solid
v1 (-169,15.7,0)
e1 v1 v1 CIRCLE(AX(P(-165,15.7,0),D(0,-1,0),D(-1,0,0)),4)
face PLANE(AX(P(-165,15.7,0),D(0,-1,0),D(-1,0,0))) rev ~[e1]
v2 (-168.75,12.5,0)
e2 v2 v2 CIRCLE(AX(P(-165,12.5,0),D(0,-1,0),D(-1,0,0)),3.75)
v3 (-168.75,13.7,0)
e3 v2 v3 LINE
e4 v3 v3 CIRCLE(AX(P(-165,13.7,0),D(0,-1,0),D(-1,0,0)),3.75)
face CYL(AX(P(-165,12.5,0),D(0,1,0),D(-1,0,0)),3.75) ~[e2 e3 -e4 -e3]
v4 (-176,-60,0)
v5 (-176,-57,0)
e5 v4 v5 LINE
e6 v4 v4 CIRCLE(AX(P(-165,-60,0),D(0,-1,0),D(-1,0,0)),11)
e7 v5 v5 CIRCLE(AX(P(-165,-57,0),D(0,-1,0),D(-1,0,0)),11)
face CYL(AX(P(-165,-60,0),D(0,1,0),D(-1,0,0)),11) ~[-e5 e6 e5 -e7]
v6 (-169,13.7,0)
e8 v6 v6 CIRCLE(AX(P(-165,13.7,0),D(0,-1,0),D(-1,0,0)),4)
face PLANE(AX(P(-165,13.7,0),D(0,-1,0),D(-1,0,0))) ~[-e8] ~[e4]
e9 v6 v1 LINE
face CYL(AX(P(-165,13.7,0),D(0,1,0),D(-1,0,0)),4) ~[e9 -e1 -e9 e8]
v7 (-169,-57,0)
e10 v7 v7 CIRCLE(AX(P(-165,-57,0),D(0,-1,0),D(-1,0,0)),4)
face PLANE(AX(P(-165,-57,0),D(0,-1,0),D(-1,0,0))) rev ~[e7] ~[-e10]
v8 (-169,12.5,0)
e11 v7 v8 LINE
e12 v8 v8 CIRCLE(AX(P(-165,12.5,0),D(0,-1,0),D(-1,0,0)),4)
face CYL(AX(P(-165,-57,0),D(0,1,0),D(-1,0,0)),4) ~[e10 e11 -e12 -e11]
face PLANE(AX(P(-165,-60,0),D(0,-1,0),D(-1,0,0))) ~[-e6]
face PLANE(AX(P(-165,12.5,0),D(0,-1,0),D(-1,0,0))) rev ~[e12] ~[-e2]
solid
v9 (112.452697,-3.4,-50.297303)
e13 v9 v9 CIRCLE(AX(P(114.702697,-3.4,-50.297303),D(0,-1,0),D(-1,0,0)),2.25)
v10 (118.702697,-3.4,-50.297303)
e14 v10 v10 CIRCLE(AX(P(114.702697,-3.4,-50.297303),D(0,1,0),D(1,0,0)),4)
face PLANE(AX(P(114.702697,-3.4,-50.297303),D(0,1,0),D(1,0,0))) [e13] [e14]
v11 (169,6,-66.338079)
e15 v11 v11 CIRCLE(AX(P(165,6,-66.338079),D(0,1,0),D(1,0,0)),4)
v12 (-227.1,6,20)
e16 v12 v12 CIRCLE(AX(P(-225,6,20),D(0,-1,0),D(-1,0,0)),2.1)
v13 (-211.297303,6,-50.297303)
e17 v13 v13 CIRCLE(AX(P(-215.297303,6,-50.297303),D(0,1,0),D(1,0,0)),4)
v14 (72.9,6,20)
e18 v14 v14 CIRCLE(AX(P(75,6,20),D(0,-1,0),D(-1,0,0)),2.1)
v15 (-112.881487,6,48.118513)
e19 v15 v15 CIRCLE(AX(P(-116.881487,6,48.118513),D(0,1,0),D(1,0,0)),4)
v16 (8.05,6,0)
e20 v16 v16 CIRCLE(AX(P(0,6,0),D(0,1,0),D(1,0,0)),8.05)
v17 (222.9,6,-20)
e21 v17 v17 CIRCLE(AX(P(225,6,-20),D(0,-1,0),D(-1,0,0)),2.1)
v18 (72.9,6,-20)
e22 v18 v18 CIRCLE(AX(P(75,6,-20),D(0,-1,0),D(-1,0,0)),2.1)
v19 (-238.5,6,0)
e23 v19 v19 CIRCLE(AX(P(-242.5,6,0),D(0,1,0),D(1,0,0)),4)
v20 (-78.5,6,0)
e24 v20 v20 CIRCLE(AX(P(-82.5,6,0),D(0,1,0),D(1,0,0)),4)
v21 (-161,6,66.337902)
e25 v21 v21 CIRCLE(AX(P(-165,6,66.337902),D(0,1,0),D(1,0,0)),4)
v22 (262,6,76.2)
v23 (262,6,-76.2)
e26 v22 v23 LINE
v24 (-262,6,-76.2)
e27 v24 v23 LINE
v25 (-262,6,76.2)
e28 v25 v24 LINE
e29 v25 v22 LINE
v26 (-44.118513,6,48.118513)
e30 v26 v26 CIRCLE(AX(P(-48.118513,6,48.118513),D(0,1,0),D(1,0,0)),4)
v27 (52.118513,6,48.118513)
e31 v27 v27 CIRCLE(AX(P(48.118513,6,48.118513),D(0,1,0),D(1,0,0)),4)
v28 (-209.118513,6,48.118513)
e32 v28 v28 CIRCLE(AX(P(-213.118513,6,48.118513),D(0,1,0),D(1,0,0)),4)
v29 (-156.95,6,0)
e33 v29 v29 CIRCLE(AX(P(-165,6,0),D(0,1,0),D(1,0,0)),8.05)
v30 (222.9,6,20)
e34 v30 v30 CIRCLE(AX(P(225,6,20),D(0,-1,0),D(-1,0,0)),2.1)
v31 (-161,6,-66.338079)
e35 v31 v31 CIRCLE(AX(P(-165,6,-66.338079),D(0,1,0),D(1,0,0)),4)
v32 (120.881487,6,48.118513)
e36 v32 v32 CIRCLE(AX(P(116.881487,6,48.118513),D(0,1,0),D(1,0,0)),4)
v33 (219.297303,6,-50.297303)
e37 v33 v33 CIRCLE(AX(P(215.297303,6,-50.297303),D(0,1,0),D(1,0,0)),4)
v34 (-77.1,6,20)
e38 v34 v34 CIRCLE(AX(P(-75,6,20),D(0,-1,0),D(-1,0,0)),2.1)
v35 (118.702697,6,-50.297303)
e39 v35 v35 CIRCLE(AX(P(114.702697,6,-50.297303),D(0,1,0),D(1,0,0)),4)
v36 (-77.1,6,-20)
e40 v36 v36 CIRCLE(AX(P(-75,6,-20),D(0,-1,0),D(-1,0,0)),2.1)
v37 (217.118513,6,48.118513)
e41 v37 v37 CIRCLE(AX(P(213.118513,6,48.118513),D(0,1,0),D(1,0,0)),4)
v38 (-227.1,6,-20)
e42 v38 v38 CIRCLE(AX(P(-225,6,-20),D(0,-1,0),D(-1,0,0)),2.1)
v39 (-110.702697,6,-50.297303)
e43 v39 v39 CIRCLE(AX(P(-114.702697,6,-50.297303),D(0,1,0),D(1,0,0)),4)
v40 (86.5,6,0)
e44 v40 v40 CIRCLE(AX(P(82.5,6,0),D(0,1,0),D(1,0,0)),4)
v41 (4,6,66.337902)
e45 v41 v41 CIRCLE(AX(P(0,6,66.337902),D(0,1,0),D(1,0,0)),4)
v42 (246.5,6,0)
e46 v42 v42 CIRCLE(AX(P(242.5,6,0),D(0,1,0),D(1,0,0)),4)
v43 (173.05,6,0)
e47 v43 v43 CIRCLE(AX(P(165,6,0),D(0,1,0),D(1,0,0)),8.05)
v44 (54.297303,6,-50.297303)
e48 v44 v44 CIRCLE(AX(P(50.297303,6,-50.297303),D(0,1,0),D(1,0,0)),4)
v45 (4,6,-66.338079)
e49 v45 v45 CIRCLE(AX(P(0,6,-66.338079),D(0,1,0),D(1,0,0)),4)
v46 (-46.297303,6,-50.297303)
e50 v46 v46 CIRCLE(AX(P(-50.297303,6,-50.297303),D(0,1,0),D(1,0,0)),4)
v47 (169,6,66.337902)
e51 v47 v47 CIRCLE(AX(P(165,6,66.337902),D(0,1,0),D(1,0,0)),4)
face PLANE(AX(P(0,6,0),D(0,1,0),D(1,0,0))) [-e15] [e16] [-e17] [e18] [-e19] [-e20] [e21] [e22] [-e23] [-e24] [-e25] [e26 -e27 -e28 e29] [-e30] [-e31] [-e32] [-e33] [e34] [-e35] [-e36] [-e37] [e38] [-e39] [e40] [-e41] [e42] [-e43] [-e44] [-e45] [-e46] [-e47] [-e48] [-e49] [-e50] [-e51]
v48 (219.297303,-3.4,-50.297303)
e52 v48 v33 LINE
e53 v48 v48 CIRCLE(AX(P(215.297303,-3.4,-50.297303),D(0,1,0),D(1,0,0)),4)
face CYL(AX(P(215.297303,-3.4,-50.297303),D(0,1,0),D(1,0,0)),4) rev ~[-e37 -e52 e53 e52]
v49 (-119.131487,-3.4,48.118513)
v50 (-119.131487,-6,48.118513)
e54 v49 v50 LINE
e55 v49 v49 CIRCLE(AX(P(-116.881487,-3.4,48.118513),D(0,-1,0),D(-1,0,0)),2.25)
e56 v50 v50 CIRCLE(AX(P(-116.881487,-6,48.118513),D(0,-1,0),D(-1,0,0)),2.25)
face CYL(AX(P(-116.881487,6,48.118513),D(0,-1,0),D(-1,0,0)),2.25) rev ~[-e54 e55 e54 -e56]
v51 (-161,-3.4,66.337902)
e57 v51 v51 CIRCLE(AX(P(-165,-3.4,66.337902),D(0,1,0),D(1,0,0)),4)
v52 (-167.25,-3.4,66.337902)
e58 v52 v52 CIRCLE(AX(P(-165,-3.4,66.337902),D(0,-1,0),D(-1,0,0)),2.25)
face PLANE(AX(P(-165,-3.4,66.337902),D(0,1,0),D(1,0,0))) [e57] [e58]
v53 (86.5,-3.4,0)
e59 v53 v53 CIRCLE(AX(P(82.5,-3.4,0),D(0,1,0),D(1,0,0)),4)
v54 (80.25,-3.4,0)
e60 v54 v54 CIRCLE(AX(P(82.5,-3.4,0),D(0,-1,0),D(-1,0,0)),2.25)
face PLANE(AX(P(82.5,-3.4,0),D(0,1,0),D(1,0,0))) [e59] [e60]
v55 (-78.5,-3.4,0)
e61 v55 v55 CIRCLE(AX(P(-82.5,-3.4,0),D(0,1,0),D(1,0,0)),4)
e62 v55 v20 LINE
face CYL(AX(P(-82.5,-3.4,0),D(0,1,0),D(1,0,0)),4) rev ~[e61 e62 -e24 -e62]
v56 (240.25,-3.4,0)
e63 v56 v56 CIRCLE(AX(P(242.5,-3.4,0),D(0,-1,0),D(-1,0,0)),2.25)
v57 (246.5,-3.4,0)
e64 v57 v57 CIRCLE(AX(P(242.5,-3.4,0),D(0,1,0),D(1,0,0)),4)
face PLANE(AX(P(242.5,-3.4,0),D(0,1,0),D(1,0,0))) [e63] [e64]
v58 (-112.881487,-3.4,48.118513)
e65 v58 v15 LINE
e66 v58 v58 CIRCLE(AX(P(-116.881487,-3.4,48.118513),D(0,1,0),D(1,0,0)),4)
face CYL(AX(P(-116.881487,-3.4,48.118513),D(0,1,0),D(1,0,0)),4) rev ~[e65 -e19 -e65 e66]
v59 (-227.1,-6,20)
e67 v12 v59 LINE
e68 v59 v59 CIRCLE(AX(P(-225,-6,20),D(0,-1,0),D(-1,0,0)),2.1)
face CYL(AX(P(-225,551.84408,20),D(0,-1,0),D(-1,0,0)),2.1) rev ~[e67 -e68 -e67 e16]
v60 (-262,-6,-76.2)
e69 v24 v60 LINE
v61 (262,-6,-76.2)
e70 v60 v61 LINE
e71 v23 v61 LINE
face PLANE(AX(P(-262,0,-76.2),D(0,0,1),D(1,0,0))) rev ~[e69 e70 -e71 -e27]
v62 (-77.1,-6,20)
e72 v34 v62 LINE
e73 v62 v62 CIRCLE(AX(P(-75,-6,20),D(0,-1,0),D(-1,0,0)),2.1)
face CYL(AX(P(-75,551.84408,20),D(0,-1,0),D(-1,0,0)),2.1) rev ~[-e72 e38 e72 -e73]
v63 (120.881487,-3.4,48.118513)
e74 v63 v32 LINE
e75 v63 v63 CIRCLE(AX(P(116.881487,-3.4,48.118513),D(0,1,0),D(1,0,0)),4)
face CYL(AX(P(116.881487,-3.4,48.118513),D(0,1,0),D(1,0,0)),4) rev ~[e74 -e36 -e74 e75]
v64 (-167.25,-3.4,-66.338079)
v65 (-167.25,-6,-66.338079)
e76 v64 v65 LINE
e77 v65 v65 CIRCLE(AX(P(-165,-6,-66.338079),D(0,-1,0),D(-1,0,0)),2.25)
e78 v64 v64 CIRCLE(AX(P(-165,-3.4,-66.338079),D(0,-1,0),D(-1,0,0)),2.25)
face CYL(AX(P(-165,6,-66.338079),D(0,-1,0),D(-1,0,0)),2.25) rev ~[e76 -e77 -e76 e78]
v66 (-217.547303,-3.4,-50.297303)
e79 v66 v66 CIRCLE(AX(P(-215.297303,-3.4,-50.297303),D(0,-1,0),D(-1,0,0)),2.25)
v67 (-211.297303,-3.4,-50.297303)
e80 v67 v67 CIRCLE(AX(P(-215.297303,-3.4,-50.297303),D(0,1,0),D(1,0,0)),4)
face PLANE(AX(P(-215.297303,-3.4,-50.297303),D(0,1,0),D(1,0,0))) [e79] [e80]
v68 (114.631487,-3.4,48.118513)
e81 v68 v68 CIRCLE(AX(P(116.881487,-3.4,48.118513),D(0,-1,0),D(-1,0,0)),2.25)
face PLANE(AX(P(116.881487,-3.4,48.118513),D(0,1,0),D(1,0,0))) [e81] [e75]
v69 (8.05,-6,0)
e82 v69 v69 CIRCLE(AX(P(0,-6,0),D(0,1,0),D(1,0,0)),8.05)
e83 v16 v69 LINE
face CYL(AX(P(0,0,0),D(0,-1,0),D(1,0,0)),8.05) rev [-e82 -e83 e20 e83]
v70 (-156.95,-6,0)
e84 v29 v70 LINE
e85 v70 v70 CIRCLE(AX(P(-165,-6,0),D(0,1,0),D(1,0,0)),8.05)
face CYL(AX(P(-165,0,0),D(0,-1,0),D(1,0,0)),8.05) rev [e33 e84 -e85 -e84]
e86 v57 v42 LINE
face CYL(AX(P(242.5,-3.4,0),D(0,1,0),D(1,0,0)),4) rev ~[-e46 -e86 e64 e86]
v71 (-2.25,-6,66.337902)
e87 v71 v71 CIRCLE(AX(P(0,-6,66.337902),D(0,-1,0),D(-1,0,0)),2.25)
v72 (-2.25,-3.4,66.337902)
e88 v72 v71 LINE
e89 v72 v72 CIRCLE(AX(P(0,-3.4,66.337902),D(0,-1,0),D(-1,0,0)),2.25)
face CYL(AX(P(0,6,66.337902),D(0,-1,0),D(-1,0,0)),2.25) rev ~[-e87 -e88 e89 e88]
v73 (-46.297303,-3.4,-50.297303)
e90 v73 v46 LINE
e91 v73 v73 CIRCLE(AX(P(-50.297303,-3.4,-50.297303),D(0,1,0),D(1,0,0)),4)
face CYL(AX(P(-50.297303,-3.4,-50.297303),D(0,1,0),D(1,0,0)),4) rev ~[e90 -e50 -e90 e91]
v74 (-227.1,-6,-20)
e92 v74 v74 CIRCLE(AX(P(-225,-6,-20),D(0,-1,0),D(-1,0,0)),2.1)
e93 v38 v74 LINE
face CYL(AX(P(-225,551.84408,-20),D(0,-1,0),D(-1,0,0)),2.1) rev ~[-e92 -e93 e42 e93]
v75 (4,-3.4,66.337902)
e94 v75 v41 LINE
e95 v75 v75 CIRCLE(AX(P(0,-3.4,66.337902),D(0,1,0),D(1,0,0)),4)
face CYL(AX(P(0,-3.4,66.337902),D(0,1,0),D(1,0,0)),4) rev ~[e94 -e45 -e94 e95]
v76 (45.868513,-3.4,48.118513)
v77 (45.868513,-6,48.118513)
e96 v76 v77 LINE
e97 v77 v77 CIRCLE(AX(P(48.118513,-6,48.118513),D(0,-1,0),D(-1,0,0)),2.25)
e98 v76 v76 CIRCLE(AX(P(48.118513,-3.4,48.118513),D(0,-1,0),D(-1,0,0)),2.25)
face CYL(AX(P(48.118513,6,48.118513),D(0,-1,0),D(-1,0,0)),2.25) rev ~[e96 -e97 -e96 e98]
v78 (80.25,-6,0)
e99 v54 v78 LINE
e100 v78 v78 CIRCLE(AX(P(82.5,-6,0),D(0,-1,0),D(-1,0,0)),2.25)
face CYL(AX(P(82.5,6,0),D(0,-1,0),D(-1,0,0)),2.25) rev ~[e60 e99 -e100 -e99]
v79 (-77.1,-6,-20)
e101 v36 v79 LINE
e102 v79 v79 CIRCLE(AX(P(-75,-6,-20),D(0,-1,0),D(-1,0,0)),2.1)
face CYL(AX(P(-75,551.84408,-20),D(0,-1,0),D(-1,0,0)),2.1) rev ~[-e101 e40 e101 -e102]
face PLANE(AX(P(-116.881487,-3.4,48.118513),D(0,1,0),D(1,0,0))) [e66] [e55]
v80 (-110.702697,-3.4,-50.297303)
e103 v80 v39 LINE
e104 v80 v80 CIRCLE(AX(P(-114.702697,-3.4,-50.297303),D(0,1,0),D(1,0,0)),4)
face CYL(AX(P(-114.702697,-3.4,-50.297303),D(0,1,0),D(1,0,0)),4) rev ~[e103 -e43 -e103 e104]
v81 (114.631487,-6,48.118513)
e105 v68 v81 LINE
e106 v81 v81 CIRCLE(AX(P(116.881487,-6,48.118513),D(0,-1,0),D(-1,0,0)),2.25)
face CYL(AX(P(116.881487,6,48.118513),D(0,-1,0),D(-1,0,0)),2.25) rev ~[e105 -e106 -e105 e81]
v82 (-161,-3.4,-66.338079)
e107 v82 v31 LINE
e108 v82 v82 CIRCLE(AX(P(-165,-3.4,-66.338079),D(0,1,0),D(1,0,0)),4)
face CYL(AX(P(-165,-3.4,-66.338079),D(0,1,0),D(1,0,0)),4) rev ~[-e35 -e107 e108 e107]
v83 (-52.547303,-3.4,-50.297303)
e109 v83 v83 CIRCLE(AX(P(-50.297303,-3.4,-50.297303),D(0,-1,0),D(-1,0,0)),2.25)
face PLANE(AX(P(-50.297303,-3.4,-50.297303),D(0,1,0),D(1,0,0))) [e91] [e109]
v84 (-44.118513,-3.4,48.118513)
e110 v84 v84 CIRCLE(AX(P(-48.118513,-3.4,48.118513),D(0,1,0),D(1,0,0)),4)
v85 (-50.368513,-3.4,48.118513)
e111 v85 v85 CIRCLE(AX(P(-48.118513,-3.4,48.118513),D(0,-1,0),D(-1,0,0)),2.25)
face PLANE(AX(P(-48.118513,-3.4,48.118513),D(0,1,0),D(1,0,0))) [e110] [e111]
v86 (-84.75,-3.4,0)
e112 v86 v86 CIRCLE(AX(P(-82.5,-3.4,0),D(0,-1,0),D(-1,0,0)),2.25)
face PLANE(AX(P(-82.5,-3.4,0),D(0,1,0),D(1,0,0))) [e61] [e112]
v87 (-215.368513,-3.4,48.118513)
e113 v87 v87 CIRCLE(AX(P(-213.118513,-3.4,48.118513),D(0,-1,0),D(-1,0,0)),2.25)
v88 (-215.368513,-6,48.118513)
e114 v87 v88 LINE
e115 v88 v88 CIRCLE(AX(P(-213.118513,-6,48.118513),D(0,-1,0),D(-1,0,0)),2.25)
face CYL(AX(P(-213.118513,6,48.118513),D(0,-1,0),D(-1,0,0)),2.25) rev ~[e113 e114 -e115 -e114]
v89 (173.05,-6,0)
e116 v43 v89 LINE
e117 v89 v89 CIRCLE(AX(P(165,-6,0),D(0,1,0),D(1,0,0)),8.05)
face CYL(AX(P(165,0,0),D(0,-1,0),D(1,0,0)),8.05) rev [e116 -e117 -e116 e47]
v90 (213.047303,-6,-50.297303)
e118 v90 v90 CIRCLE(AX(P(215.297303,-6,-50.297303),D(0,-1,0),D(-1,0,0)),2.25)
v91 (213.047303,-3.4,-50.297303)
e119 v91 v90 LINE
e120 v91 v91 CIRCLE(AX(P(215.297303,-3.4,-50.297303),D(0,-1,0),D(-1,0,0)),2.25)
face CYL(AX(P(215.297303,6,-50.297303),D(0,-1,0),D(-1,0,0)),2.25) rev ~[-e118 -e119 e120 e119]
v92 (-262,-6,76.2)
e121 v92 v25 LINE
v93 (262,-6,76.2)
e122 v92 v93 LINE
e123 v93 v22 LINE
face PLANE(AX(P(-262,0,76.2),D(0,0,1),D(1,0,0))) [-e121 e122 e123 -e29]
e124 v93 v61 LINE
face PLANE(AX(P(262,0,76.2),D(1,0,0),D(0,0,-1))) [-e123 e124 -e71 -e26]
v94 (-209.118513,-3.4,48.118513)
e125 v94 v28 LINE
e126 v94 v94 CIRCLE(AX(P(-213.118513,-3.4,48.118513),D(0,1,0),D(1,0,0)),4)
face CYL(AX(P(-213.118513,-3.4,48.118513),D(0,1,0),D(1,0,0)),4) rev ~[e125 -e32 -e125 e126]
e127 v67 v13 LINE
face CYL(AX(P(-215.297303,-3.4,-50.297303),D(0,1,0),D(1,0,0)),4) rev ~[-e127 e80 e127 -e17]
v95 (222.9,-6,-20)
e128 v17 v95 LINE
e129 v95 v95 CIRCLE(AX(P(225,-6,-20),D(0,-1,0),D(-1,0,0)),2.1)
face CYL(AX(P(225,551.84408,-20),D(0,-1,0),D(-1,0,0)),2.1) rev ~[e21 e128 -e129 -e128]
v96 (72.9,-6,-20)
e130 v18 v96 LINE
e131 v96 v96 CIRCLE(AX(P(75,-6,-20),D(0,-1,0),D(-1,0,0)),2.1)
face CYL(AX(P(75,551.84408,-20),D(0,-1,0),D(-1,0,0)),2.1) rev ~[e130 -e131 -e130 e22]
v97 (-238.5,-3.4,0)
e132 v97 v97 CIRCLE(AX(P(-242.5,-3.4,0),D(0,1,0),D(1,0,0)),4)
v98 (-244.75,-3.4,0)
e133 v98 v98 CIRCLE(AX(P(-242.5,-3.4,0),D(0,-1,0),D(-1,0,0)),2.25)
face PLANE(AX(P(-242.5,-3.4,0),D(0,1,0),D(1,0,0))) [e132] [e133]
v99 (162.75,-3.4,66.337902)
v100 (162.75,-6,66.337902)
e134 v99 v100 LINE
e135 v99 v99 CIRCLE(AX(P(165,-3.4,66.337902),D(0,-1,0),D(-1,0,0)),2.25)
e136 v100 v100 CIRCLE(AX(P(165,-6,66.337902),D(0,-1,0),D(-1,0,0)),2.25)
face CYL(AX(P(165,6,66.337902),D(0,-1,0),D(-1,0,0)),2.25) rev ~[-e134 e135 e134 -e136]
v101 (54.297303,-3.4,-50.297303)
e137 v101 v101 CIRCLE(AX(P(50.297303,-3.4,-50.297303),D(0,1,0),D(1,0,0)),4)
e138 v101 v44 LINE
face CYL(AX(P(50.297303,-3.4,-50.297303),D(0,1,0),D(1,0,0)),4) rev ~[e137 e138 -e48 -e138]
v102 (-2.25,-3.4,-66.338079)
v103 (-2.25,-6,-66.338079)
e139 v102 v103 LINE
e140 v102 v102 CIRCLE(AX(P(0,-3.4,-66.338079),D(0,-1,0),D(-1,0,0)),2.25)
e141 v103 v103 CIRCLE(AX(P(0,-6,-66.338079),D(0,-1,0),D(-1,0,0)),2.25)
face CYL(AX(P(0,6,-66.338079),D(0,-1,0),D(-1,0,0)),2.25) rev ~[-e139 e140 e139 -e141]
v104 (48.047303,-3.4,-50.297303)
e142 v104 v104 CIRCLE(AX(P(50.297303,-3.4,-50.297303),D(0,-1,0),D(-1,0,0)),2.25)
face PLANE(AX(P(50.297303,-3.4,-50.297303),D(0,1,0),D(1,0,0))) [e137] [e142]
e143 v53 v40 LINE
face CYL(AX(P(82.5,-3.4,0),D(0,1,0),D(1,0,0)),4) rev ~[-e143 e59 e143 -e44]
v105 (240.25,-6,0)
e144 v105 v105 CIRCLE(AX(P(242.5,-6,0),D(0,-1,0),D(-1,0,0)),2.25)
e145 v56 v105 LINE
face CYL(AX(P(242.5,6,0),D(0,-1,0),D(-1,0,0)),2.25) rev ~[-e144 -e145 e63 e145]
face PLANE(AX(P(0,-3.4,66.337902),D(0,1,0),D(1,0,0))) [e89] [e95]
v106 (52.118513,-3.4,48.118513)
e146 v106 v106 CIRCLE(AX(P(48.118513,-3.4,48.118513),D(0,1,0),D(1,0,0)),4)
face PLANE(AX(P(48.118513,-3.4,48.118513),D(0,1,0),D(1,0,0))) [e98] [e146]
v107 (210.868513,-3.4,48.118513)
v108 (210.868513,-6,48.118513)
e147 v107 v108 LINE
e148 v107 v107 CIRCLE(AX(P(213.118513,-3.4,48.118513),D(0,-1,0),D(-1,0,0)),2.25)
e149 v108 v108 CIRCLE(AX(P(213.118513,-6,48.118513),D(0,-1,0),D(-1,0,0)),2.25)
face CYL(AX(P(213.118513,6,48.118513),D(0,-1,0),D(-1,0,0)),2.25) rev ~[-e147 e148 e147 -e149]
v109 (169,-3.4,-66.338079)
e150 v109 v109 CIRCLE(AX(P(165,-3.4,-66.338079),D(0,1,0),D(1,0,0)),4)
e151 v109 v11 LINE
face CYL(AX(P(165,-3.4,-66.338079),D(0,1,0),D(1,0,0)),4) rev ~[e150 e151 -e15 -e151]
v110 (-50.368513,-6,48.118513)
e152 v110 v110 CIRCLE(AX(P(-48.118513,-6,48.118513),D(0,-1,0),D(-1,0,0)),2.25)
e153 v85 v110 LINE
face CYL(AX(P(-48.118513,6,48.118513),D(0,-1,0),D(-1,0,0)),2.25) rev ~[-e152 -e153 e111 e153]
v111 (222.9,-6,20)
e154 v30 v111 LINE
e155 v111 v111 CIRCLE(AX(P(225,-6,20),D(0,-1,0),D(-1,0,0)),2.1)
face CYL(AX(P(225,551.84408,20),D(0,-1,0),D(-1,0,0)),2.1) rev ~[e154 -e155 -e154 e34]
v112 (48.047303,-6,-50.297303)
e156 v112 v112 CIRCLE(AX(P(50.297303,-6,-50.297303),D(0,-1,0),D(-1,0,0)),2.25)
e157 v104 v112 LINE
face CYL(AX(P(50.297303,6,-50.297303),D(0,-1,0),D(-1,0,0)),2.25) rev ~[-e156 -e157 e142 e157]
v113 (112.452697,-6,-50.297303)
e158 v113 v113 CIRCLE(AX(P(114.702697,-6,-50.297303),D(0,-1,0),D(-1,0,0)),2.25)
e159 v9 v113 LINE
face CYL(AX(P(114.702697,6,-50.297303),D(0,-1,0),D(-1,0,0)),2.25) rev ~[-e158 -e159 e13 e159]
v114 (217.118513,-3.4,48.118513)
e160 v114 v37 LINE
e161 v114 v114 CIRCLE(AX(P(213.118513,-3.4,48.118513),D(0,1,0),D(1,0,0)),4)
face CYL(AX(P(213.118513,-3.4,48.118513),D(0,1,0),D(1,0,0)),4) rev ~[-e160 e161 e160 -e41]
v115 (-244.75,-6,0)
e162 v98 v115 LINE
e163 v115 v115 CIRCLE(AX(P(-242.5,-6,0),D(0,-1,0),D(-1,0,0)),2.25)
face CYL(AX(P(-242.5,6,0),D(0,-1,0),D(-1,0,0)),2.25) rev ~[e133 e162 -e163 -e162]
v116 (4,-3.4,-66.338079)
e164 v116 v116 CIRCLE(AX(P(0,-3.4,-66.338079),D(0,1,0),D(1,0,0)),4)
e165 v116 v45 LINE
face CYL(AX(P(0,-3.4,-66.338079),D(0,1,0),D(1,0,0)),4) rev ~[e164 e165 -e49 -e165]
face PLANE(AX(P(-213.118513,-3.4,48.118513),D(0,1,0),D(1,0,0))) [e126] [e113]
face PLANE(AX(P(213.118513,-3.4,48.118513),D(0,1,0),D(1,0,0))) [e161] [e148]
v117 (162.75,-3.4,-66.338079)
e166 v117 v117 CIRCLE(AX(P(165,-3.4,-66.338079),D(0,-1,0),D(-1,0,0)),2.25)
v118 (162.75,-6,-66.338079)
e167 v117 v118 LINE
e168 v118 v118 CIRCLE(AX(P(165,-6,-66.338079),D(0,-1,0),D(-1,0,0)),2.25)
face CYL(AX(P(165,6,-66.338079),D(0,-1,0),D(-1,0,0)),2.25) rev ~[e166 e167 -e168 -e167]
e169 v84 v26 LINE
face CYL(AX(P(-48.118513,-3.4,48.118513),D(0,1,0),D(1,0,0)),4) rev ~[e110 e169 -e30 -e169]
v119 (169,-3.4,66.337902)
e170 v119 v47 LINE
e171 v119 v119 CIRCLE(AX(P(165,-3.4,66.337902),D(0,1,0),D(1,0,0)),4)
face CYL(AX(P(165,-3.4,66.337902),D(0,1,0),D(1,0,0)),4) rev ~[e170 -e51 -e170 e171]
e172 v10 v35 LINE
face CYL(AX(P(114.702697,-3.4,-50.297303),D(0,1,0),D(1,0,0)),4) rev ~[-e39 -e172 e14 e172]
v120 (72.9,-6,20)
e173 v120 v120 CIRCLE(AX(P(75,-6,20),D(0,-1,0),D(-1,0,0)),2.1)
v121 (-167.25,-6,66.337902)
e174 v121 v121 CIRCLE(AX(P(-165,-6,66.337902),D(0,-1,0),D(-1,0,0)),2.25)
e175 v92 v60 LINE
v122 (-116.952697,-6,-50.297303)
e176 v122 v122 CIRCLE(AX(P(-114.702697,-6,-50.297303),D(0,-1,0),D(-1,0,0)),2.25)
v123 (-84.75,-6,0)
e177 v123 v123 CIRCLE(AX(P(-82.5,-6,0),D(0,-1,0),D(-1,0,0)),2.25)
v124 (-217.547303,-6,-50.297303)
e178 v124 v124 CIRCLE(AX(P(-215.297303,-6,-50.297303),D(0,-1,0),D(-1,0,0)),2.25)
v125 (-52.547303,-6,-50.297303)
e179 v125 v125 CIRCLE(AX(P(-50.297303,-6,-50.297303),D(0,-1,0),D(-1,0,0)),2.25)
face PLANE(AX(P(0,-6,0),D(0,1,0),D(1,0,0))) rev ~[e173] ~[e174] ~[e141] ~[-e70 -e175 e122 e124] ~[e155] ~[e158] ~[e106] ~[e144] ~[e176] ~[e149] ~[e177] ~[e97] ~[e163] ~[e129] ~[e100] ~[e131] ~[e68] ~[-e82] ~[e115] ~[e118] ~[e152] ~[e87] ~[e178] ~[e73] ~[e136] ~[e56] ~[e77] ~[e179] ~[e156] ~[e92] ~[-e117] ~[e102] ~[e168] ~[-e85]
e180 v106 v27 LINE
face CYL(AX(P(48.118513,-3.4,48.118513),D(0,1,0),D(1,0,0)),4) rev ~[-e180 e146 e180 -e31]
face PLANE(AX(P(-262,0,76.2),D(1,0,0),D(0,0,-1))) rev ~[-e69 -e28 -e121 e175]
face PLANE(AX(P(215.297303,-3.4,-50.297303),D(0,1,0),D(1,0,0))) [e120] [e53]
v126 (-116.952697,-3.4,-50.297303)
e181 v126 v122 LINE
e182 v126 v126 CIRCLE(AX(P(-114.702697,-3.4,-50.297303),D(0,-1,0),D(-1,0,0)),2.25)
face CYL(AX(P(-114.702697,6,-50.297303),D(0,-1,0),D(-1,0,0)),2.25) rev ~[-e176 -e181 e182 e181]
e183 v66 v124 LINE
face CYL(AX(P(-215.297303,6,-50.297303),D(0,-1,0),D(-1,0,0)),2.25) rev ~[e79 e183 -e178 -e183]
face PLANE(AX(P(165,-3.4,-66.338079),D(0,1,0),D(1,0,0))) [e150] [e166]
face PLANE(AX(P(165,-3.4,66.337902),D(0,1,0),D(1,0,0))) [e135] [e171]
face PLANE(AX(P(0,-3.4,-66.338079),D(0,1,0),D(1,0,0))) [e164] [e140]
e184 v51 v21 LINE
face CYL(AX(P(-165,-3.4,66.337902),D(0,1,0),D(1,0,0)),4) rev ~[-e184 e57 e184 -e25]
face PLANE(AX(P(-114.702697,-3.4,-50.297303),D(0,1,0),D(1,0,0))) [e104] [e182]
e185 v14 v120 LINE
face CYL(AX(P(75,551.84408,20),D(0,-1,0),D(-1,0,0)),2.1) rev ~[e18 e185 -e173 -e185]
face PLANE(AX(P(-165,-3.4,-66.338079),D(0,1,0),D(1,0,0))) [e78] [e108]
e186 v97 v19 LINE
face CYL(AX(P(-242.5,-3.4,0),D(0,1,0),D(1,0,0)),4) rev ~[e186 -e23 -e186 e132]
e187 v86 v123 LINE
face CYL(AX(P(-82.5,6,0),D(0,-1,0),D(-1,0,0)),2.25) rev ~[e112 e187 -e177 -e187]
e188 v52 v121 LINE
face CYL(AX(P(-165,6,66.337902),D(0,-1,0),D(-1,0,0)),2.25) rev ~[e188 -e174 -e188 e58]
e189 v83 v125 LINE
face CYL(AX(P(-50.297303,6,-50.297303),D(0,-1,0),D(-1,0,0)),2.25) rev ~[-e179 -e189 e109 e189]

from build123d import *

# Parameters (mm, degrees)
SKETCH1_W                                           = 524
SKETCH1_H                                           = 152.4
SKETCH1_R                                           = 8.05
BOSS_EXTRUDE1_DEPTH                                 = 6
M5_TAPPED_HOLE1_D                                   = 4.2
CBORE_FOR_M4_HEX_SOCKET_HEAD_CAP_SCREW1_D           = 4.5
CBORE_FOR_M4_HEX_SOCKET_HEAD_CAP_SCREW1_CBORE_D     = 8
CBORE_FOR_M4_HEX_SOCKET_HEAD_CAP_SCREW1_CBORE_DEPTH = 9.4


with BuildPart() as part:
    # Sketch1 → Boss-Extrude1 (new body, symmetric)
    with BuildSketch(Plane(origin=(0, 0, 0), x_dir=(1, 0, 0), z_dir=(0, 1, 0))):
        Rectangle(SKETCH1_W, SKETCH1_H)
        with Locations((-165, 0)):
            Circle(SKETCH1_R, mode=Mode.SUBTRACT)
        Circle(SKETCH1_R, mode=Mode.SUBTRACT)
        with Locations((165, 0)):
            Circle(SKETCH1_R, mode=Mode.SUBTRACT)
    extrude(amount=BOSS_EXTRUDE1_DEPTH, both=True)

    # M5 Tapped Hole1 (through all)
    with Locations(Plane(origin=(0, 6, 0), x_dir=(1, 0, 0), z_dir=(0, 1, 0))):
        with Locations((-75, 20), (-225, 20), (-225, -20), (-75, -20), (225, 20), (225, -20), (75, -20), (75, 20)):
            Hole(M5_TAPPED_HOLE1_D / 2)

    # CBORE for M4 Hex Socket Head Cap Screw1 (through all)
    with Locations(Plane(origin=(0, 6, 0), x_dir=(1, 0, 0), z_dir=(0, 1, 0))):
        with Locations((-242.5, 0), (-215.297302762, 50.297302762), (-213.11851323, -48.11851323), (-165, -66.337901802), (-165, 66.338078988), (-114.702697238, 50.297302762), (-116.88148677, -48.11851323), (-82.5, 0), (-48.11851323, -48.11851323), (-50.297302762, 50.297302762), (0, 66.338078988), (0, -66.337901802), (48.11851323, -48.11851323), (50.297302762, 50.297302762), (82.5, 0), (114.702697238, 50.297302762), (116.88148677, -48.11851323), (165, -66.337901802), (165, 66.338078988), (215.297302762, 50.297302762), (213.11851323, -48.11851323), (242.5, 0)):
            CounterBoreHole(CBORE_FOR_M4_HEX_SOCKET_HEAD_CAP_SCREW1_D / 2, CBORE_FOR_M4_HEX_SOCKET_HEAD_CAP_SCREW1_CBORE_D / 2, CBORE_FOR_M4_HEX_SOCKET_HEAD_CAP_SCREW1_CBORE_DEPTH)


with BuildPart() as body_2:
    # Sketch10 → Revolve1 (revolve)
    with BuildSketch(Plane.XY):
        Polygon((-165, -60), (-176, -60), (-176, -57), (-169, -57), (-169, 12.5), (-168.75, 12.5), (-168.75, 13.7), (-169, 13.7), (-169, 15.7), (-165, 15.7), align=None)
    revolve(axis=Axis((-165, 25.832339958, 0), (0, -1, 0)))


solid = Compound([part.part, body_2.part])
